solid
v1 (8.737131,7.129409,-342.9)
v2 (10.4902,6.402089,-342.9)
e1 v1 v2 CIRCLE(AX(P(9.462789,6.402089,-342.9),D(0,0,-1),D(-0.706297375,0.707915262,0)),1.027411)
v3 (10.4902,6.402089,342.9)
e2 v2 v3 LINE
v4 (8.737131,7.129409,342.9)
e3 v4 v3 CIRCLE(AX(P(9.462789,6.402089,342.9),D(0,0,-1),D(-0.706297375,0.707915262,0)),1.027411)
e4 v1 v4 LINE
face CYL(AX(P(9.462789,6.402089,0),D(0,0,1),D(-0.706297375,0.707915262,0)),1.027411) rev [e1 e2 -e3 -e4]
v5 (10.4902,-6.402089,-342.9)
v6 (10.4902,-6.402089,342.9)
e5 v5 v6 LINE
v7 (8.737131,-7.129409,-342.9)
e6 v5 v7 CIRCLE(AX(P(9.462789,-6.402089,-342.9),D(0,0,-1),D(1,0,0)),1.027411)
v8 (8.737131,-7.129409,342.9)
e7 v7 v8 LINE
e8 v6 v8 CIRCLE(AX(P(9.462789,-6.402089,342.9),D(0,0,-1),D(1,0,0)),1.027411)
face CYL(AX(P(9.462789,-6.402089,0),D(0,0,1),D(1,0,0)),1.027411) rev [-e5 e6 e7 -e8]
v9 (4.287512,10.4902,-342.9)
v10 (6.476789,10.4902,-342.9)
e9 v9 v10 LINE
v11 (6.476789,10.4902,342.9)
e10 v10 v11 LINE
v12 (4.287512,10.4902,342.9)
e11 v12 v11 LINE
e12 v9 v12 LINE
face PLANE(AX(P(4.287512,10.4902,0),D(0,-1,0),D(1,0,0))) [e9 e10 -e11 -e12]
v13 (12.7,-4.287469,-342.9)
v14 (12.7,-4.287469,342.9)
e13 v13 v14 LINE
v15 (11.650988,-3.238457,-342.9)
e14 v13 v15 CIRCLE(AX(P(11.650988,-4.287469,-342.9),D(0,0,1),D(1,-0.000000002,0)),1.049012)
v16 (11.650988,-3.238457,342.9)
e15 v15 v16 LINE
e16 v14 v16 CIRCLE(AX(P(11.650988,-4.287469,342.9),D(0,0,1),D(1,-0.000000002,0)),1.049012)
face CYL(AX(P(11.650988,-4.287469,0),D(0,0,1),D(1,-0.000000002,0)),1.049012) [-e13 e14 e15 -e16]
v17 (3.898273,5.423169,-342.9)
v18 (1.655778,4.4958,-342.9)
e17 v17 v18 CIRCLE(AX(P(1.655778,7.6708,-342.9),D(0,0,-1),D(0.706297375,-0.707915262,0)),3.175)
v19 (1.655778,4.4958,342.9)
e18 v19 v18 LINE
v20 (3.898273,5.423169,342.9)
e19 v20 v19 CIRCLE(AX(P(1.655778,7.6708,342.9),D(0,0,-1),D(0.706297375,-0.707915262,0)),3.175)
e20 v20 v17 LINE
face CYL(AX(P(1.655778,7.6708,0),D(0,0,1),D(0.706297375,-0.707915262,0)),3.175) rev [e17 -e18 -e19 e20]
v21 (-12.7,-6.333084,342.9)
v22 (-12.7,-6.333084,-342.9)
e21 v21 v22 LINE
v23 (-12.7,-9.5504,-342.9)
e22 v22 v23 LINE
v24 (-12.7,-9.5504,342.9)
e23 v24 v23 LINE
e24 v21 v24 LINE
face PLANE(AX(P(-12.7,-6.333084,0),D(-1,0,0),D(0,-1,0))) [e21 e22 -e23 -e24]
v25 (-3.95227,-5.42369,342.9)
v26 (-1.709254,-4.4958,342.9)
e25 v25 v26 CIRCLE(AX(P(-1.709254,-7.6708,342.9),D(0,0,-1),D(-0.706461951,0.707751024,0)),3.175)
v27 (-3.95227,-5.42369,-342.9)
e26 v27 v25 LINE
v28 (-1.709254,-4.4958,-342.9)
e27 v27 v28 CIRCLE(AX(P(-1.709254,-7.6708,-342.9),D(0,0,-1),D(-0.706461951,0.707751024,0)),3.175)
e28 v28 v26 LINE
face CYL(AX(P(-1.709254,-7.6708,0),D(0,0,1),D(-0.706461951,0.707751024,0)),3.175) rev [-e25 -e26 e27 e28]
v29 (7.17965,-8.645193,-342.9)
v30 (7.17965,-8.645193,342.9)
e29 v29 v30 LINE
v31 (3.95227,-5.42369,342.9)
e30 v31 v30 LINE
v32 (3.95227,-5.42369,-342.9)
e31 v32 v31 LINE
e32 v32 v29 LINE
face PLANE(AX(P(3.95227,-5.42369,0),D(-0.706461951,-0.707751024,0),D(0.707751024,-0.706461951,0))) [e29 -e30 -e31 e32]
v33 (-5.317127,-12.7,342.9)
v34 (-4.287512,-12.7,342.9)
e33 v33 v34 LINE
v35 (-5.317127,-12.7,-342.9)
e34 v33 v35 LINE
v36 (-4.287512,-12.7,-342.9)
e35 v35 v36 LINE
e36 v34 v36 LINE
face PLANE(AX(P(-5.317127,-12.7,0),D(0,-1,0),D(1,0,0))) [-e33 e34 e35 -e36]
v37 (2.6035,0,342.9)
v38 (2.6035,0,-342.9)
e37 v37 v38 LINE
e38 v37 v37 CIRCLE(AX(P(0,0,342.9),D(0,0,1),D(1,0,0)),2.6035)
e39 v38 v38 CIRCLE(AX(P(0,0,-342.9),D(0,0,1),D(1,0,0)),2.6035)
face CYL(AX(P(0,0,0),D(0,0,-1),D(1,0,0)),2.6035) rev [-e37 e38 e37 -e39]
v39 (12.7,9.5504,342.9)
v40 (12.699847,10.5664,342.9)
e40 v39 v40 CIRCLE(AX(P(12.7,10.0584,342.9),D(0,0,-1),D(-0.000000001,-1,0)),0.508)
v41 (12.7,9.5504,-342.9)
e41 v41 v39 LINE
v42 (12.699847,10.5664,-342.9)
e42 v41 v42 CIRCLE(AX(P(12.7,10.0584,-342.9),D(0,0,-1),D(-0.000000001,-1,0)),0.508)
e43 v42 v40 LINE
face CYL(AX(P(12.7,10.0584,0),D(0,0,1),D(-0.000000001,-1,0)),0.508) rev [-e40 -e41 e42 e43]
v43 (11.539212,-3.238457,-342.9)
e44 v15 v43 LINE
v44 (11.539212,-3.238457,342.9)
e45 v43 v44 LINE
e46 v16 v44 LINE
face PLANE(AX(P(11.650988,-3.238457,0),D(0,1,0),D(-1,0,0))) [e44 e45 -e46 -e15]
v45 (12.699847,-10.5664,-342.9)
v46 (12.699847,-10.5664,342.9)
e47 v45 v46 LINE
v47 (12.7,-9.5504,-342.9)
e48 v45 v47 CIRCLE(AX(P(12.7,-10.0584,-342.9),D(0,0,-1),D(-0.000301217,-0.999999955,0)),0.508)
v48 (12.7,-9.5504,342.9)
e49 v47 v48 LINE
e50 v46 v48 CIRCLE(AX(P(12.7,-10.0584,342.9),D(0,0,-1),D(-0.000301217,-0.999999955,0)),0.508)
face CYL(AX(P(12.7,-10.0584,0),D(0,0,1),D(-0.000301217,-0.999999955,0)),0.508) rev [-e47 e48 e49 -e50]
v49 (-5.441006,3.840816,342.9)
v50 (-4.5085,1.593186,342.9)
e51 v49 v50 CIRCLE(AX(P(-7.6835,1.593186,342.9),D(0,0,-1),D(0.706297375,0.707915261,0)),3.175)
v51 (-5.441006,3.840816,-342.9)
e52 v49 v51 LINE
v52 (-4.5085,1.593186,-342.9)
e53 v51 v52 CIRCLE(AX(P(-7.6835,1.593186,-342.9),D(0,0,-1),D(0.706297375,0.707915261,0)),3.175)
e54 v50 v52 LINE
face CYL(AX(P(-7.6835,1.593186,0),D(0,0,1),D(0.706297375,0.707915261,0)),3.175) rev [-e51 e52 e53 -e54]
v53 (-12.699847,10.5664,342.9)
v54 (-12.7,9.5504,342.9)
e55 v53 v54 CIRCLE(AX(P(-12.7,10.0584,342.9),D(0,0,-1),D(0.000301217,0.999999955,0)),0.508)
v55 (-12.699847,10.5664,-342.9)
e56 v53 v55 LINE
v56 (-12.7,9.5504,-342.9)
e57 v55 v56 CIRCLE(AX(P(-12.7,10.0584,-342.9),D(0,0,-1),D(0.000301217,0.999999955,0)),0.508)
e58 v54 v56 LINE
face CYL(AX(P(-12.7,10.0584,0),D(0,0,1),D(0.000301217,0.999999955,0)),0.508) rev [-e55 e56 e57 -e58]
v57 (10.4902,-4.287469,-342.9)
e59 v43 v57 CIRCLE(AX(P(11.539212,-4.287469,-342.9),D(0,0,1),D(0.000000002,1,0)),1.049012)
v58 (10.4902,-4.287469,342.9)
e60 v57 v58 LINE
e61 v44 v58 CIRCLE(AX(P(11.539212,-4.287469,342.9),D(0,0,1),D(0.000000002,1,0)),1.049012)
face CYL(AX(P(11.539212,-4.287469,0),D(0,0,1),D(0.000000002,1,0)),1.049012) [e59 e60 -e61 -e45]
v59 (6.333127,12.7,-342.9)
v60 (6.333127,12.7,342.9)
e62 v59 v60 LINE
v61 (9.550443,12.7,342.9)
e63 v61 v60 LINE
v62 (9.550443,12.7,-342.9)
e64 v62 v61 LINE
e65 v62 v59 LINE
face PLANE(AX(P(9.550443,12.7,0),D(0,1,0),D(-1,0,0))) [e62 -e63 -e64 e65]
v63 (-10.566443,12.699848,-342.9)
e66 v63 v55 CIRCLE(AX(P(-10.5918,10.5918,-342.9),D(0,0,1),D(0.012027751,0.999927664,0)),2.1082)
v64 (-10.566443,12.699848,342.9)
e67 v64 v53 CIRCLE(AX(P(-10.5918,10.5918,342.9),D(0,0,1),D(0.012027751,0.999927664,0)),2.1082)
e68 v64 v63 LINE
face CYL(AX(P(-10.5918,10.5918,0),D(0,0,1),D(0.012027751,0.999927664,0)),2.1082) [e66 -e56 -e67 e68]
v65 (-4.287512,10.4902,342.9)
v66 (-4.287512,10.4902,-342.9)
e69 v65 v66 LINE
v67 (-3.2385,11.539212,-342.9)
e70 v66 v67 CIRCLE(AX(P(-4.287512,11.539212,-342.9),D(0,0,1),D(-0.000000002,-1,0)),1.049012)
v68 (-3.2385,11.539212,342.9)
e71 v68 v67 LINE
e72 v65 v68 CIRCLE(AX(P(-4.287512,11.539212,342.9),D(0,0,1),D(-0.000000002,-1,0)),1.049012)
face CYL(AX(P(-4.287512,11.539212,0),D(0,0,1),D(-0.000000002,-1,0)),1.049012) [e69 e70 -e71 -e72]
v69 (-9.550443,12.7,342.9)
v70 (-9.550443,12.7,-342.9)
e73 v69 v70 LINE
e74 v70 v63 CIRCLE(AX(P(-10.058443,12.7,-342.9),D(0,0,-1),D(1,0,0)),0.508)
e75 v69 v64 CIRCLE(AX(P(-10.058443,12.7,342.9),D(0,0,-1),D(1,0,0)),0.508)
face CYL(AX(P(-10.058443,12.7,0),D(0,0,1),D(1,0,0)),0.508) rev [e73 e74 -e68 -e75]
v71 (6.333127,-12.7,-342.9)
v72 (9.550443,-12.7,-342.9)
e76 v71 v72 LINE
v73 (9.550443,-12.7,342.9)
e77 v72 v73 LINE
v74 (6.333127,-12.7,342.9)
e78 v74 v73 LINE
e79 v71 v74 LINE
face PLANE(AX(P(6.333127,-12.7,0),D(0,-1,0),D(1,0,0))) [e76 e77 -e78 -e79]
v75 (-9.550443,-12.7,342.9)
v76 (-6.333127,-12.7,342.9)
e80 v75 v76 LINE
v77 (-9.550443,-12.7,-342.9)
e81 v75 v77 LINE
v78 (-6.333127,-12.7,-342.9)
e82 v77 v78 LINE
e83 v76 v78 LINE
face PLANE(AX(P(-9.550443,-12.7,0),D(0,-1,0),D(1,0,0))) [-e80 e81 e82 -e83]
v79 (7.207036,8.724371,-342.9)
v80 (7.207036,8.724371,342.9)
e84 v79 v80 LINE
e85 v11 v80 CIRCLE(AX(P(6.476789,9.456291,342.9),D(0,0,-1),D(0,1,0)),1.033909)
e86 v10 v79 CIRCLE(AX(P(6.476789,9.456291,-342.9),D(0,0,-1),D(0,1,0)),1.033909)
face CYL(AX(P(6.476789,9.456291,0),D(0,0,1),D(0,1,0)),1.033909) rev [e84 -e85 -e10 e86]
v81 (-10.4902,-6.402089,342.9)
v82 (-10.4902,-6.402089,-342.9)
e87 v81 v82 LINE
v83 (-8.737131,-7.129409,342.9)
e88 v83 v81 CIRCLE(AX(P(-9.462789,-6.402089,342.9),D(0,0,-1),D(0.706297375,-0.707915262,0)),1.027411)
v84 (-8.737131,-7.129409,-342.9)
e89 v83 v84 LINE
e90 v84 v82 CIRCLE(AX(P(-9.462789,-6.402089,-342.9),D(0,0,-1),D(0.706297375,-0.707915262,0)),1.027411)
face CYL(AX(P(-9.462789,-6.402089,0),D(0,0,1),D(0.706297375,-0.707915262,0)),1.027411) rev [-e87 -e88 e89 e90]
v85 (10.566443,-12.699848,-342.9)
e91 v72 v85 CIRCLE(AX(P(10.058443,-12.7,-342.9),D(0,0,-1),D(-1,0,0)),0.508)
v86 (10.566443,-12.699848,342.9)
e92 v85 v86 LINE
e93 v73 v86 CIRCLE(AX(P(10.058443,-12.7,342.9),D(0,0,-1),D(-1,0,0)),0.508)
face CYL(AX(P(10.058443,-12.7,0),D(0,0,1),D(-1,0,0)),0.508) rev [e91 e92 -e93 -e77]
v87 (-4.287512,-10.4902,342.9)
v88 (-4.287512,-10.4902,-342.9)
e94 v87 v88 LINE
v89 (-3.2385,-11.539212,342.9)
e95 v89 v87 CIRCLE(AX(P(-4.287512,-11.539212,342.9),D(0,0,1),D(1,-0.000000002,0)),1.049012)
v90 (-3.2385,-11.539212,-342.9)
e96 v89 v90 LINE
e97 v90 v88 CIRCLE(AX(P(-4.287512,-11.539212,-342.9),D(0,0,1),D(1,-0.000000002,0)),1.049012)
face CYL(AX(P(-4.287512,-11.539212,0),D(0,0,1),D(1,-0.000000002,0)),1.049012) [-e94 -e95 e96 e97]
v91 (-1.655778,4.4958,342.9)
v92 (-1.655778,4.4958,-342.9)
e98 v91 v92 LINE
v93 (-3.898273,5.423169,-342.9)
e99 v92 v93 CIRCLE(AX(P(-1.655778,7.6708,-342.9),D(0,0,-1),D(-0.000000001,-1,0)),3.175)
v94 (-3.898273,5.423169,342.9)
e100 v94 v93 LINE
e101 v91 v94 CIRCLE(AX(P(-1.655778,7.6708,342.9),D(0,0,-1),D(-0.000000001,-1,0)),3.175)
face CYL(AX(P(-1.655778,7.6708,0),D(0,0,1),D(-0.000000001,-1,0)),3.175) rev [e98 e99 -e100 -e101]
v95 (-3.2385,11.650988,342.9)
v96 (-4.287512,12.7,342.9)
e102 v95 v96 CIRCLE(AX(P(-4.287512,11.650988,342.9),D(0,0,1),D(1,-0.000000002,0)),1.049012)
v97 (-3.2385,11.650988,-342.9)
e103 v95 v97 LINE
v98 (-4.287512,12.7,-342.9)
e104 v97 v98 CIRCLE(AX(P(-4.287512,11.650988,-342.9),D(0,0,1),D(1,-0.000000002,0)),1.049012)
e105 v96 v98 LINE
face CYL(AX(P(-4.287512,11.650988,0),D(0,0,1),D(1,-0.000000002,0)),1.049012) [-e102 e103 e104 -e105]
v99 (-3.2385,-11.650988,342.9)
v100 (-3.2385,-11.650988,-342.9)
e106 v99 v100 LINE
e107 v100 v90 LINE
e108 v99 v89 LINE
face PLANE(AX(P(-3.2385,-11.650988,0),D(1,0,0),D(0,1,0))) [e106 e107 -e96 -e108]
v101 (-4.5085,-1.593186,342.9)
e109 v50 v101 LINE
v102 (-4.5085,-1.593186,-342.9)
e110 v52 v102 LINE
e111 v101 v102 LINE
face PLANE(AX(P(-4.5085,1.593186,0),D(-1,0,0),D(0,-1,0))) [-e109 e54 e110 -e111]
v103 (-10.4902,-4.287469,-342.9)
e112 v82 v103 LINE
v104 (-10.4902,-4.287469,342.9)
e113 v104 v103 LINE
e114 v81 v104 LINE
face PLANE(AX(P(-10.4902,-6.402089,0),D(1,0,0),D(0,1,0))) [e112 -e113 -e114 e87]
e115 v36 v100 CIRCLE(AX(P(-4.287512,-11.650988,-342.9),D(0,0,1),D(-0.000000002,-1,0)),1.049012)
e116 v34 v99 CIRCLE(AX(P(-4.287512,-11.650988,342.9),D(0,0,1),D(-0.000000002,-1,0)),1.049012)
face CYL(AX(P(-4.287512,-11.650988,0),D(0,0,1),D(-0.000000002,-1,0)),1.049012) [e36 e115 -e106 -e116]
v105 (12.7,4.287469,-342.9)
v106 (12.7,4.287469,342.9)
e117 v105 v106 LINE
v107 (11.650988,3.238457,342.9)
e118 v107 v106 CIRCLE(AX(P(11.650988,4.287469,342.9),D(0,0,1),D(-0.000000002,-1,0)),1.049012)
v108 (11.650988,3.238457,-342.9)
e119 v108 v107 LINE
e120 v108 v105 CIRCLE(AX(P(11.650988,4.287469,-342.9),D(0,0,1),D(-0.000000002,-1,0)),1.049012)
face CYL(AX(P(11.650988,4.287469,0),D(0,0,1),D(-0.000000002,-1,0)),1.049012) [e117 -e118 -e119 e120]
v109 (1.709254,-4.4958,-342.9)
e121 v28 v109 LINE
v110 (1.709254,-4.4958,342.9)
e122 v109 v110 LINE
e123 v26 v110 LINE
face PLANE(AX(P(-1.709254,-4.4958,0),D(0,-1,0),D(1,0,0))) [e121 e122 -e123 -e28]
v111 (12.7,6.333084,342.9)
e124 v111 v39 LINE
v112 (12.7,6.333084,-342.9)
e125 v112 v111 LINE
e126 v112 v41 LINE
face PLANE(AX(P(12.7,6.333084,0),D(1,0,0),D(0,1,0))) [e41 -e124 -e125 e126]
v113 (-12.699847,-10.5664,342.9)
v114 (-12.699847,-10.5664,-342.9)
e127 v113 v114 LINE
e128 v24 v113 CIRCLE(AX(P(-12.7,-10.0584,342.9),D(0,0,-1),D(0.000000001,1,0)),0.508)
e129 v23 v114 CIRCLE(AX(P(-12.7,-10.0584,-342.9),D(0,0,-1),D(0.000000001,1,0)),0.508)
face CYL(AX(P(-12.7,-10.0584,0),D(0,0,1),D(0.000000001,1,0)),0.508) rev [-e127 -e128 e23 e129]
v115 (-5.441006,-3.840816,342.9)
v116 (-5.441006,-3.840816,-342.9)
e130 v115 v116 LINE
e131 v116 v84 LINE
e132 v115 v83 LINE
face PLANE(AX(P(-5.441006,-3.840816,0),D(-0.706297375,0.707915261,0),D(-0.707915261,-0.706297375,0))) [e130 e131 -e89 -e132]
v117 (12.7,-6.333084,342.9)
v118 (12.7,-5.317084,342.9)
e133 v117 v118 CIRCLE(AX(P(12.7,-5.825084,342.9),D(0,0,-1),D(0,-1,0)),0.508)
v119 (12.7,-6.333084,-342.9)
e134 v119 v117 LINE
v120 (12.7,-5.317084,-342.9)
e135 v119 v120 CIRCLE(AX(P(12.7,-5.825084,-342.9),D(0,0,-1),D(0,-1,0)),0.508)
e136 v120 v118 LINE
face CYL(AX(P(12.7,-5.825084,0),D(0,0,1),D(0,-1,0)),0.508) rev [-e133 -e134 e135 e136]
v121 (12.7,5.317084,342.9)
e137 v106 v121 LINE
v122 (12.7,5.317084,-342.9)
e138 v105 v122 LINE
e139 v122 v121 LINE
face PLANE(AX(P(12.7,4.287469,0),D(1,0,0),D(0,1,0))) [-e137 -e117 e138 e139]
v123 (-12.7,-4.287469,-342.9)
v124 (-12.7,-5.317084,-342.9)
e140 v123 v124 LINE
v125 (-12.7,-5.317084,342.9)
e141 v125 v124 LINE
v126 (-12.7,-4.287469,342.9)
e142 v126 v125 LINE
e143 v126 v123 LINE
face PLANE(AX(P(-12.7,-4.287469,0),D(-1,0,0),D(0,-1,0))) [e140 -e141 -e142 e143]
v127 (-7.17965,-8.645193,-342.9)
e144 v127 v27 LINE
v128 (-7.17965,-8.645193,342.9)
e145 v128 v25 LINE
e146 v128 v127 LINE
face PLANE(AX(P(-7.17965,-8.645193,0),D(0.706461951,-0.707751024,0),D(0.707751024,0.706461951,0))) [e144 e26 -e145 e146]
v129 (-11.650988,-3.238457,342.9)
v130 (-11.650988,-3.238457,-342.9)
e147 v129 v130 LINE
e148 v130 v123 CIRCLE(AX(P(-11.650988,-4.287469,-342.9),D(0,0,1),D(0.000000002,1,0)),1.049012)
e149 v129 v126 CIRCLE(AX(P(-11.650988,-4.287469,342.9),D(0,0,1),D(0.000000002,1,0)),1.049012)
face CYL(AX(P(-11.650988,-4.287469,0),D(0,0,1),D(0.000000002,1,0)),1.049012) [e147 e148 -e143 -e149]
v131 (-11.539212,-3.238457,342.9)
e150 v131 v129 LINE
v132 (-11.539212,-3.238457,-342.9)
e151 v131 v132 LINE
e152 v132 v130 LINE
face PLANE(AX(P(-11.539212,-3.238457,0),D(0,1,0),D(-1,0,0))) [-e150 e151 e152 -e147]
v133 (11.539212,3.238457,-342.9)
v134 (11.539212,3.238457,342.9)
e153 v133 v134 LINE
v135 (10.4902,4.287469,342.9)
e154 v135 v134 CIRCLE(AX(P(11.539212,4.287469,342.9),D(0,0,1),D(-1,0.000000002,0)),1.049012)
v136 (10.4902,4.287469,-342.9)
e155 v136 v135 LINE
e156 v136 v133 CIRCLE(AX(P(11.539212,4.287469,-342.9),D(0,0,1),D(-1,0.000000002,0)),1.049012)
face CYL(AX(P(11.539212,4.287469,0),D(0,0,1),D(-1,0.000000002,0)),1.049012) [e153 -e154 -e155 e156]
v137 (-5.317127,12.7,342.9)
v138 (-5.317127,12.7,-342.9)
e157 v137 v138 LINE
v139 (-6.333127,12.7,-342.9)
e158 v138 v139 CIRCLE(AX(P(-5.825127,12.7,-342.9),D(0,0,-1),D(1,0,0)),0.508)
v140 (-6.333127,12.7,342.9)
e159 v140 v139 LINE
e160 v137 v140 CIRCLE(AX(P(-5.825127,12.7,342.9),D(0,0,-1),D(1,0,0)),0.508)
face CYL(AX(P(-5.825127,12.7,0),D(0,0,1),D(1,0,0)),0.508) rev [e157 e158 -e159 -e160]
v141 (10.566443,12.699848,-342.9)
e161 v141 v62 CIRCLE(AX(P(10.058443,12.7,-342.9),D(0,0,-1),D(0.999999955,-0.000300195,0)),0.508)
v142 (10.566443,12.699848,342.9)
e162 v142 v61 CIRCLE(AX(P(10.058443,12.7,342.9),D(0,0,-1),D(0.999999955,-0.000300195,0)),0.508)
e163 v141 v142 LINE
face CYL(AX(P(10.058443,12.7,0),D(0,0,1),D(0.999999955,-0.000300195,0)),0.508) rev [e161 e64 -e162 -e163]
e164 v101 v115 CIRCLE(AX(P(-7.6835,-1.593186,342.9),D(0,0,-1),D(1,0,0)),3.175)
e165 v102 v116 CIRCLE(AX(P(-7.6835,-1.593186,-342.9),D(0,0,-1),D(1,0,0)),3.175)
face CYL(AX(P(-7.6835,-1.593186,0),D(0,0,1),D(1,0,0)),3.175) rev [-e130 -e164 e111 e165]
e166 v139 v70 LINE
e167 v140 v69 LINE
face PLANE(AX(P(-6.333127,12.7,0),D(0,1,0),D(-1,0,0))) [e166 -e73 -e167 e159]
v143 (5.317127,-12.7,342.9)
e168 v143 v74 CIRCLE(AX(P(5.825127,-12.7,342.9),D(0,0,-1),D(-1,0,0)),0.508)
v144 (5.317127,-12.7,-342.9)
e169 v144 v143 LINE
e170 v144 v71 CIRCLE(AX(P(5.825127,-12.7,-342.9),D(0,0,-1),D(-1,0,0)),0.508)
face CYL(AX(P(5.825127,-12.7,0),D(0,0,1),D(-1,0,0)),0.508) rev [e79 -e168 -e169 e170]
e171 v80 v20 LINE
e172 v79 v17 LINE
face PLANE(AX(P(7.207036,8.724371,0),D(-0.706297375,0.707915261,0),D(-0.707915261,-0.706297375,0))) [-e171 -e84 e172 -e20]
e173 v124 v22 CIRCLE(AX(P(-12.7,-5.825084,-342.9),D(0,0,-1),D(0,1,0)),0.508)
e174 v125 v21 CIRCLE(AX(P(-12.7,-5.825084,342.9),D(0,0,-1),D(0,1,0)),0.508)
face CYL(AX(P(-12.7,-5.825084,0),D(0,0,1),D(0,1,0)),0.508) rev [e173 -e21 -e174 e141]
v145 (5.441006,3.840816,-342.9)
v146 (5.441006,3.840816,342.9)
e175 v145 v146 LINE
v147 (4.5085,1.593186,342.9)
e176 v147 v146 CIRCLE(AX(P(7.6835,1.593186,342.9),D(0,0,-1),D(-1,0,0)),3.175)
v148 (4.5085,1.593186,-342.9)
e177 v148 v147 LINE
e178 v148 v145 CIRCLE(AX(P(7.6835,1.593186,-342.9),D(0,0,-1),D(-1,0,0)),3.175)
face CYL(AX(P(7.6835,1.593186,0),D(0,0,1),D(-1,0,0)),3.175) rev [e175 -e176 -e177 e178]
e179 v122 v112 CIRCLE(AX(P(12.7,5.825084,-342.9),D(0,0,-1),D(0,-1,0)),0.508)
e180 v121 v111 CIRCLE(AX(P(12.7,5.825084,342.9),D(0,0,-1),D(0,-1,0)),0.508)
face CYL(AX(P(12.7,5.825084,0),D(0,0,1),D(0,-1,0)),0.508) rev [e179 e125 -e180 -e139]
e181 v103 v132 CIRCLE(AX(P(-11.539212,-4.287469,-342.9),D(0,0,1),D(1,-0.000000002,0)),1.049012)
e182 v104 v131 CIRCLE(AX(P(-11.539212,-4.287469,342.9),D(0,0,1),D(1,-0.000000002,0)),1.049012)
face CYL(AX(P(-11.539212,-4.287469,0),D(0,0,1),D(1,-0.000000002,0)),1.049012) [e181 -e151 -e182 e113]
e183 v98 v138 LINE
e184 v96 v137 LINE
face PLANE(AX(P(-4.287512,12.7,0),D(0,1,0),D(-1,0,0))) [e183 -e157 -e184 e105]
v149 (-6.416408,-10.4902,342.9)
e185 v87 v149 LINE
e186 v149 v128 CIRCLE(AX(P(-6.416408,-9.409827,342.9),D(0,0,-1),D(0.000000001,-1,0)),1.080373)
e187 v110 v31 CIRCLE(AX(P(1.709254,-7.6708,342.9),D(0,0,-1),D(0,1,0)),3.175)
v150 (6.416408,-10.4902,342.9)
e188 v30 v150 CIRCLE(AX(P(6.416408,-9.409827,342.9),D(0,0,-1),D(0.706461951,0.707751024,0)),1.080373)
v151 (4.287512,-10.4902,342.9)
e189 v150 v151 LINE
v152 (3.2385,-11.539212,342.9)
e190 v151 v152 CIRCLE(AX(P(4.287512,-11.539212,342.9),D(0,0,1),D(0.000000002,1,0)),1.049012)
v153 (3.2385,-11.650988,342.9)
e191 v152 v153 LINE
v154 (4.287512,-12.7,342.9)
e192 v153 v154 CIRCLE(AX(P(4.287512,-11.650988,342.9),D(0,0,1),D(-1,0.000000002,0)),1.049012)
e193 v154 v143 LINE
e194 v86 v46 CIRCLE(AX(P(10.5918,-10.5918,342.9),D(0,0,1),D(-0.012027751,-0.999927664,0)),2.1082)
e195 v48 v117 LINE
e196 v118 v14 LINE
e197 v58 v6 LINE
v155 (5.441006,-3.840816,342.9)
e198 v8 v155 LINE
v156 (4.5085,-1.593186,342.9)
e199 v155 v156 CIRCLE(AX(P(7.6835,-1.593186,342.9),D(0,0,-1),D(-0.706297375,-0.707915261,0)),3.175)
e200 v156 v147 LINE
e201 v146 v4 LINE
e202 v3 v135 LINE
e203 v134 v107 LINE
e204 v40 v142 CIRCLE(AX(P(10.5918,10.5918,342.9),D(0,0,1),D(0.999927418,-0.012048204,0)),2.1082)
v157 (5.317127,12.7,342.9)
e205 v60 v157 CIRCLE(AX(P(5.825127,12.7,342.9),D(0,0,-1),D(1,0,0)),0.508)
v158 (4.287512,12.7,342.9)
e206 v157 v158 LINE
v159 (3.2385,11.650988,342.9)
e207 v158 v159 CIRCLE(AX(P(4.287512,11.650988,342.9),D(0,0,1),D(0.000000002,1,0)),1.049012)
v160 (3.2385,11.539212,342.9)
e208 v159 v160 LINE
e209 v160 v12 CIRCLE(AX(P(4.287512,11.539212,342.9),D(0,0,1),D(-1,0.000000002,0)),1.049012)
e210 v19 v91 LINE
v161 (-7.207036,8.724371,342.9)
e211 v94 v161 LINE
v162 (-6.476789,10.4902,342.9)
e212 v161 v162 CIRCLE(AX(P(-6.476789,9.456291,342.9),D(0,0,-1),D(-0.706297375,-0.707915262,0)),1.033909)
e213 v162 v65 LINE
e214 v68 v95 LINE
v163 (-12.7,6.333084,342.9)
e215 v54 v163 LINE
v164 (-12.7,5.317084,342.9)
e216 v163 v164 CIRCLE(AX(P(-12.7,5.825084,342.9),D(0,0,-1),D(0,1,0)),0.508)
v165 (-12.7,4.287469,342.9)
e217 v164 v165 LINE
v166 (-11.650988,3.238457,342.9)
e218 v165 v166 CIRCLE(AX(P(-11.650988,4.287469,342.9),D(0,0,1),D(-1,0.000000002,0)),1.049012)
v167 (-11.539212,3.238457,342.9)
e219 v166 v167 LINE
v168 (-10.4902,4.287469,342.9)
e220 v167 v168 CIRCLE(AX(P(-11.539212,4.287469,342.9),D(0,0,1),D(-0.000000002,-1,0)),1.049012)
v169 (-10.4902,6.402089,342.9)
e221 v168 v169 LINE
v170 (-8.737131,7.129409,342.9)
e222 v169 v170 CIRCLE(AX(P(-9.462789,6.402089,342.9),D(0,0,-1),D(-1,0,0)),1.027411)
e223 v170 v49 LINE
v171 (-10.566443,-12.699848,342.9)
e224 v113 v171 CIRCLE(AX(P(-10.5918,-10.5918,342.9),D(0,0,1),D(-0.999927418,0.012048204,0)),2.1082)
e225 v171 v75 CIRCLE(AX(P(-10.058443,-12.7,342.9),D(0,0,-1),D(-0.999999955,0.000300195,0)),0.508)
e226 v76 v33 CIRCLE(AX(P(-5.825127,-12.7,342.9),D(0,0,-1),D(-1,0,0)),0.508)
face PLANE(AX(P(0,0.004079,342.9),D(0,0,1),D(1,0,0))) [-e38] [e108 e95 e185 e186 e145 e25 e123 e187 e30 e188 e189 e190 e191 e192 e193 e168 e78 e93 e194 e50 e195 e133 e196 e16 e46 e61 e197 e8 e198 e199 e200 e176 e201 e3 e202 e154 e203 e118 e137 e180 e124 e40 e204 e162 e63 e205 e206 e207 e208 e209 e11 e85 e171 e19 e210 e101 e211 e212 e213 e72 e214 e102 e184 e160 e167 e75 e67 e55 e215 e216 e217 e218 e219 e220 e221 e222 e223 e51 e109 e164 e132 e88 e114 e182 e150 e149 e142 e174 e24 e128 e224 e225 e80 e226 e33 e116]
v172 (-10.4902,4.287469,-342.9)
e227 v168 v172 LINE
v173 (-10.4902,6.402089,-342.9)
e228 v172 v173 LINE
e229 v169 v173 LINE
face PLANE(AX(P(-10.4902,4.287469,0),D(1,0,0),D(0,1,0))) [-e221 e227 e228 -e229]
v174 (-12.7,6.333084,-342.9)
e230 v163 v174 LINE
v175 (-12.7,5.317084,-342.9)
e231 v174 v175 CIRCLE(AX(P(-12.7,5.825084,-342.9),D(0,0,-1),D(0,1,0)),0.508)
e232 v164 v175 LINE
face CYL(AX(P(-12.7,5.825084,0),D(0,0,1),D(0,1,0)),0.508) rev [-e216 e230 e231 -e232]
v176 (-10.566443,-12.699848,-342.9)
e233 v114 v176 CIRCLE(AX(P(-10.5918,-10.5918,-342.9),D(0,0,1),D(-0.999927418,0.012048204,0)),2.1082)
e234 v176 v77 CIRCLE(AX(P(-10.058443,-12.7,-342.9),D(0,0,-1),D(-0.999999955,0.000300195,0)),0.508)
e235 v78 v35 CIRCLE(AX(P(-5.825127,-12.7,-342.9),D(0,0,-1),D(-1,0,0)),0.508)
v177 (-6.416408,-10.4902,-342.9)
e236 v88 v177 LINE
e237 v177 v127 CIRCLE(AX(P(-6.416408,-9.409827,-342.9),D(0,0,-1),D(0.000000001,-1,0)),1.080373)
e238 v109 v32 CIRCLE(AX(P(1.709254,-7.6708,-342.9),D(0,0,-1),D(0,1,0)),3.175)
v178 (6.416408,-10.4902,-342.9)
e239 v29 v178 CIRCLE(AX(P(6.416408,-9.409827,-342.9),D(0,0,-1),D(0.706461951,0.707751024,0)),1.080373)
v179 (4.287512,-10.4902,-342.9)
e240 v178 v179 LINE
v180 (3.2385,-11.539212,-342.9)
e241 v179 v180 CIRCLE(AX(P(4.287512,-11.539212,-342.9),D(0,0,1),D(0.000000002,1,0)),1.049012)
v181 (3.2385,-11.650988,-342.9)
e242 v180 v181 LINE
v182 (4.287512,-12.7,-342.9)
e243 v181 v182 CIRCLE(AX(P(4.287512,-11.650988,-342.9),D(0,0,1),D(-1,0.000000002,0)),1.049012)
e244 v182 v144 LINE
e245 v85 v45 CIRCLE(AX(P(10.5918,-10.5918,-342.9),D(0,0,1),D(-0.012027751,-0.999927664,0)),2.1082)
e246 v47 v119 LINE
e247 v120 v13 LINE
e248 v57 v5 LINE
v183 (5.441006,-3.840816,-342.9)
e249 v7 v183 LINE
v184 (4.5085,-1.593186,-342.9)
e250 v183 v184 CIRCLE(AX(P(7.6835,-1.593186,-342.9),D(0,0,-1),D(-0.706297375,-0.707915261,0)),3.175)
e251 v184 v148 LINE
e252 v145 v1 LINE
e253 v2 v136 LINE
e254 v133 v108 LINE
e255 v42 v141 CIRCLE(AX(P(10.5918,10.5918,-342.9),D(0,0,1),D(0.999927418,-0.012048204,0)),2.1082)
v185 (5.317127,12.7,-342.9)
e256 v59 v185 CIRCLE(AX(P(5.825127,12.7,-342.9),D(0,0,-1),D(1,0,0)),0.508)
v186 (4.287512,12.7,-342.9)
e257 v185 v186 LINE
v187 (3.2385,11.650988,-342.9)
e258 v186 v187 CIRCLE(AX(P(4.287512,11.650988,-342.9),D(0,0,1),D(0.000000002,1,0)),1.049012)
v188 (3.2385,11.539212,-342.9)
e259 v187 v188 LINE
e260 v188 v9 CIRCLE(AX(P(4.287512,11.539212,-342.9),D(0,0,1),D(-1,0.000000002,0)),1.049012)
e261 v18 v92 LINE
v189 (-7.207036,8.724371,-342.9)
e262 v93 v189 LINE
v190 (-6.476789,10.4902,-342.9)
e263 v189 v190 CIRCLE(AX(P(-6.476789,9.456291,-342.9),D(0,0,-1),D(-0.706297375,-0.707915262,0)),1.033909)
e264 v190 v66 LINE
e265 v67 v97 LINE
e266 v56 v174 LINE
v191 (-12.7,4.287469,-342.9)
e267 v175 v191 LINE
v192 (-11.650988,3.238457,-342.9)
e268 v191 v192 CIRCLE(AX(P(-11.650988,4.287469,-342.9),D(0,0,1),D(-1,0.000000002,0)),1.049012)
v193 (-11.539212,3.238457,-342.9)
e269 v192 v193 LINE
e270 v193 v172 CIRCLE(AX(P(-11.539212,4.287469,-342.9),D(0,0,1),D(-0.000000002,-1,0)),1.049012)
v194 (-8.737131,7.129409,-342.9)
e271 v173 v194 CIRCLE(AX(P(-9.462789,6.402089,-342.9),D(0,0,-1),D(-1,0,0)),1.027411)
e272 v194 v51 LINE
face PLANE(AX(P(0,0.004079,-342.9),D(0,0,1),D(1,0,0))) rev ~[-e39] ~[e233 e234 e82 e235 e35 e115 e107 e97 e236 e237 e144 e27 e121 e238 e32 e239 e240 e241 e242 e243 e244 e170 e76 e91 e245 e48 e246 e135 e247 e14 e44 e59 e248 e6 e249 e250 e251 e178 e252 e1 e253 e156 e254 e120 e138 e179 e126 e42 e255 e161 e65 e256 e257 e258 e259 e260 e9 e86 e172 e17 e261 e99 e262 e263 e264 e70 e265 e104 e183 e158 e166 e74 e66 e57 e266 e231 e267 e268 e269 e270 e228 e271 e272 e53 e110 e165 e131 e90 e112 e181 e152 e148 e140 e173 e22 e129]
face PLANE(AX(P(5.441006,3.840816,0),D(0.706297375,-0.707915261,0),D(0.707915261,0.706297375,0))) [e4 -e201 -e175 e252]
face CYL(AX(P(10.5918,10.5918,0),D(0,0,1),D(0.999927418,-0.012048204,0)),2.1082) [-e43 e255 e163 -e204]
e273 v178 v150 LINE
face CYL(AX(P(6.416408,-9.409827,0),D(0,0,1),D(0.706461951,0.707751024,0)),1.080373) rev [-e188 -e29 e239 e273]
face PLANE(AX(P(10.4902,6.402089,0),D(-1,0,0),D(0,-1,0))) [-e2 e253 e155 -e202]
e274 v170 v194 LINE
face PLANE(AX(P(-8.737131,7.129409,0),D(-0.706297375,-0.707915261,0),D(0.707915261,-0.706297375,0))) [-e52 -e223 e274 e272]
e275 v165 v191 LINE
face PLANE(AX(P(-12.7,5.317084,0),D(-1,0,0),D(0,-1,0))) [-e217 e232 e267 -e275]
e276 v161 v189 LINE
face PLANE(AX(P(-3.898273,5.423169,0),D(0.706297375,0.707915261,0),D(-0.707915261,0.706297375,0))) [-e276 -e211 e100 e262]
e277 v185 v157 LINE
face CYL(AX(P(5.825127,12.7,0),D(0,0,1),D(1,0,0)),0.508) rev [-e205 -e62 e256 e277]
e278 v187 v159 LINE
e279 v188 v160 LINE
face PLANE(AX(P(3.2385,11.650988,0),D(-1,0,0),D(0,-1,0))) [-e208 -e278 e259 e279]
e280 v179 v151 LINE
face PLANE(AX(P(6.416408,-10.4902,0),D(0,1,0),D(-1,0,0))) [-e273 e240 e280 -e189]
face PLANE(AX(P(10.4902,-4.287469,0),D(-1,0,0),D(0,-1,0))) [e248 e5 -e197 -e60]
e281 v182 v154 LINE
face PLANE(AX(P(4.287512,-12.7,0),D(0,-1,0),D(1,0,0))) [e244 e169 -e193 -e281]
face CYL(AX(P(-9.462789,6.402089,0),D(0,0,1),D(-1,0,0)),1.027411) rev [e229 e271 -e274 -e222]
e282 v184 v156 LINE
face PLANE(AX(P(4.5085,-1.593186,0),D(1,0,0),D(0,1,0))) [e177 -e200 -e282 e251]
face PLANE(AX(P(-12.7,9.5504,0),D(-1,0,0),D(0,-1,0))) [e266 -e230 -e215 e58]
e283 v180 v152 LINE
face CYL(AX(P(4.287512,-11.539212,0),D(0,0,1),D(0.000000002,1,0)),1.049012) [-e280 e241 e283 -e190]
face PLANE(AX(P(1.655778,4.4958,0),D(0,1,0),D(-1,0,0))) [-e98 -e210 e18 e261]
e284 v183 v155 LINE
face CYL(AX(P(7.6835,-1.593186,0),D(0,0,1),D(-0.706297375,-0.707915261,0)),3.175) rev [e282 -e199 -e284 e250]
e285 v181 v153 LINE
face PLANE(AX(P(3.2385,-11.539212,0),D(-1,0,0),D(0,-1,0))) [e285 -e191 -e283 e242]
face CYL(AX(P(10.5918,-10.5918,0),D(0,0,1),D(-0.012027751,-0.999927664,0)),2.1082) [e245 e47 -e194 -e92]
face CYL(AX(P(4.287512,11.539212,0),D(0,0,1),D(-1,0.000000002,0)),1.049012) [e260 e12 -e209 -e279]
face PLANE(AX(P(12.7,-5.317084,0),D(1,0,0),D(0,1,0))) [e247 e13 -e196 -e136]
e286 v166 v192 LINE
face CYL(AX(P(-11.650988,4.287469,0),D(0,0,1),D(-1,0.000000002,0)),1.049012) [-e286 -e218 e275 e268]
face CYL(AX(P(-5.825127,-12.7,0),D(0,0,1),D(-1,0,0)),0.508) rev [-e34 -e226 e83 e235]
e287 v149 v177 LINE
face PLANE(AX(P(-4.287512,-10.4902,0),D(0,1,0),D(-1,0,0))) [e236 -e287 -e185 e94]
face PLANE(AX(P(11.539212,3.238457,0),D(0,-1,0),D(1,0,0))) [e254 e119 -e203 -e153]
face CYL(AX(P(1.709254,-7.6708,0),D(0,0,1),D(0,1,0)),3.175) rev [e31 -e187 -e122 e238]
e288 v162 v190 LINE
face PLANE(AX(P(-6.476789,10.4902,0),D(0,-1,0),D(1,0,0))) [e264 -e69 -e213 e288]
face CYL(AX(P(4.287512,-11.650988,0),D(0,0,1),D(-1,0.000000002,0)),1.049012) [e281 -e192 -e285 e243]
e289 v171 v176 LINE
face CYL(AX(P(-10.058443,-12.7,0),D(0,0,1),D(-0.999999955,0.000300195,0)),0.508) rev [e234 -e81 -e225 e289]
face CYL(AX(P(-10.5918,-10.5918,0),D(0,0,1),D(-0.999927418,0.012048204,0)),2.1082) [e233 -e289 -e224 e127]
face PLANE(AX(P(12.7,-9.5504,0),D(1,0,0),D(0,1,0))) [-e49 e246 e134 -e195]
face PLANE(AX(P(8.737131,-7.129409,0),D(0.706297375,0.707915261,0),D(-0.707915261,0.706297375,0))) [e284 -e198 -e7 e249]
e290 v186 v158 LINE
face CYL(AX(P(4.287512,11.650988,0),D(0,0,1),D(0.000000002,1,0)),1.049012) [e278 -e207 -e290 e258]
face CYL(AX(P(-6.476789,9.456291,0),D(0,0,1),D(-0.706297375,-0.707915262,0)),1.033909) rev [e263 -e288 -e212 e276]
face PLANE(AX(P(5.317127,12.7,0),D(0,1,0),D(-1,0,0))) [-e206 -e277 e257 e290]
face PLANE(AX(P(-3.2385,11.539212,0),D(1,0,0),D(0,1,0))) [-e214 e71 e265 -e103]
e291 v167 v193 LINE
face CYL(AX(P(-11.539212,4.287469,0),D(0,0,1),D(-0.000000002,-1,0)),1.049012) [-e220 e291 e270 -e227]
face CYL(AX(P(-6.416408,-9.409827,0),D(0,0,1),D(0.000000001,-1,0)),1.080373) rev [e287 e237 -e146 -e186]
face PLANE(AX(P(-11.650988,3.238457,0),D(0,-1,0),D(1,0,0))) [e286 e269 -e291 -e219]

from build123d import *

# Parameters (mm, degrees)
SKETCH1_R           = 2.6035
BOSS_EXTRUDE1_DEPTH = 342.9


with BuildPart() as part:
    # Sketch1 → Boss-Extrude1 (new, symmetric)
    with BuildSketch(Plane.XY):
        with BuildLine():
            Line((-7.179650497, -8.645192506), (-3.952270251, -5.423690499))
            ThreePointArc((-3.952270251, -5.423690499), (-2.922936451, -4.736929036), (-1.709253557, -4.4958))
            Line((-1.709253557, -4.4958), (1.709253557, -4.4958))
            ThreePointArc((1.709253557, -4.4958), (2.922936451, -4.736929036), (3.952270251, -5.423690499))
            Line((3.952270251, -5.423690499), (7.179650497, -8.645192506))
            ThreePointArc((7.179650497, -8.645192506), (7.41473083, -9.822813117), (6.416408329, -10.4902))
            Line((6.416408329, -10.4902), (4.287512407, -10.4902))
            ThreePointArc((4.287512407, -10.4902), (3.54574862, -10.79744862), (3.2385, -11.539212407))
            Line((3.2385, -11.539212407), (3.2385, -11.650987593))
            ThreePointArc((3.2385, -11.650987593), (3.54574862, -12.39275138), (4.287512407, -12.7))
            Line((4.287512407, -12.7), (5.317126718, -12.7))
            ThreePointArc((5.317126718, -12.7), (5.825126718, -12.192), (6.333126718, -12.7))
            Line((6.333126718, -12.7), (9.550443118, -12.7))
            ThreePointArc((9.550443118, -12.7), (10.058366869, -12.192000006), (10.566443095, -12.699847501))
            ThreePointArc((10.566443095, -12.699847501), (12.082537762, -12.08250727), (12.699846982, -10.566399977))
            ThreePointArc((12.699846982, -10.566399977), (12.192000006, -10.058323491), (12.7, -9.5504))
            Line((12.7, -9.5504), (12.7, -6.3330836))
            ThreePointArc((12.7, -6.3330836), (12.192, -5.8250836), (12.7, -5.3170836))
            Line((12.7, -5.3170836), (12.7, -4.287469289))
            ThreePointArc((12.7, -4.287469289), (12.39275138, -3.545705502), (11.650987593, -3.238456882))
            Line((11.650987593, -3.238456882), (11.539212407, -3.238456882))
            ThreePointArc((11.539212407, -3.238456882), (10.79744862, -3.545705502), (10.4902, -4.287469289))
            Line((10.4902, -4.287469289), (10.4902, -6.402089023))
            ThreePointArc((10.4902, -6.402089023), (9.856505071, -7.351067942), (8.737131347, -7.129408934))
            Line((8.737131347, -7.129408934), (5.441005833, -3.840816462))
            ThreePointArc((5.441005833, -3.840816462), (4.750877967, -2.809883091), (4.5085, -1.593185507))
            Line((4.5085, -1.593185507), (4.5085, 1.593185507))
            ThreePointArc((4.5085, 1.593185507), (4.750877967, 2.809883091), (5.441005833, 3.840816462))
            Line((5.441005833, 3.840816462), (8.737131347, 7.129408934))
            ThreePointArc((8.737131347, 7.129408934), (9.856505071, 7.351067942), (10.4902, 6.402089023))
            Line((10.4902, 6.402089023), (10.4902, 4.287469289))
            ThreePointArc((10.4902, 4.287469289), (10.79744862, 3.545705502), (11.539212407, 3.238456882))
            Line((11.539212407, 3.238456882), (11.650987593, 3.238456882))
            ThreePointArc((11.650987593, 3.238456882), (12.39275138, 3.545705502), (12.7, 4.287469289))
            Line((12.7, 4.287469289), (12.7, 5.3170836))
            ThreePointArc((12.7, 5.3170836), (12.192, 5.8250836), (12.7, 6.3330836))
            Line((12.7, 6.3330836), (12.7, 9.5504))
            ThreePointArc((12.7, 9.5504), (12.192000006, 10.058323491), (12.699846982, 10.566399977))
            ThreePointArc((12.699846982, 10.566399977), (12.082537762, 12.08250727), (10.566443095, 12.699847501))
            ThreePointArc((10.566443095, 12.699847501), (10.058366869, 12.192000006), (9.550443118, 12.7))
            Line((9.550443118, 12.7), (6.333126718, 12.7))
            ThreePointArc((6.333126718, 12.7), (5.825126718, 12.192), (5.317126718, 12.7))
            Line((5.317126718, 12.7), (4.287512407, 12.7))
            ThreePointArc((4.287512407, 12.7), (3.54574862, 12.39275138), (3.2385, 11.650987593))
            Line((3.2385, 11.650987593), (3.2385, 11.539212407))
            ThreePointArc((3.2385, 11.539212407), (3.54574862, 10.79744862), (4.287512407, 10.4902))
            Line((4.287512407, 10.4902), (6.476788598, 10.4902))
            ThreePointArc((6.476788598, 10.4902), (7.432222385, 9.85140422), (7.207036008, 8.724370562))
            Line((7.207036008, 8.724370562), (3.898272566, 5.423169045))
            ThreePointArc((3.898272566, 5.423169045), (2.869120213, 4.736787962), (1.655778399, 4.4958))
            Line((1.655778399, 4.4958), (-1.655778399, 4.4958))
            ThreePointArc((-1.655778399, 4.4958), (-2.869120213, 4.736787962), (-3.898272566, 5.423169045))
            Line((-3.898272566, 5.423169045), (-7.207036008, 8.724370562))
            ThreePointArc((-7.207036008, 8.724370562), (-7.432222385, 9.85140422), (-6.476788598, 10.4902))
            Line((-6.476788598, 10.4902), (-4.287512407, 10.4902))
            ThreePointArc((-4.287512407, 10.4902), (-3.54574862, 10.79744862), (-3.2385, 11.539212407))
            Line((-3.2385, 11.539212407), (-3.2385, 11.650987593))
            ThreePointArc((-3.2385, 11.650987593), (-3.54574862, 12.39275138), (-4.287512407, 12.7))
            Line((-4.287512407, 12.7), (-5.317126718, 12.7))
            ThreePointArc((-5.317126718, 12.7), (-5.825126718, 12.192), (-6.333126718, 12.7))
            Line((-6.333126718, 12.7), (-9.550443118, 12.7))
            ThreePointArc((-9.550443118, 12.7), (-10.058366869, 12.192000006), (-10.566443095, 12.699847501))
            ThreePointArc((-10.566443095, 12.699847501), (-12.082537762, 12.08250727), (-12.699846982, 10.566399977))
            ThreePointArc((-12.699846982, 10.566399977), (-12.192000006, 10.058323491), (-12.7, 9.5504))
            Line((-12.7, 9.5504), (-12.7, 6.3330836))
            ThreePointArc((-12.7, 6.3330836), (-12.192, 5.8250836), (-12.7, 5.3170836))
            Line((-12.7, 5.3170836), (-12.7, 4.287469289))
            ThreePointArc((-12.7, 4.287469289), (-12.39275138, 3.545705502), (-11.650987593, 3.238456882))
            Line((-11.650987593, 3.238456882), (-11.539212407, 3.238456882))
            ThreePointArc((-11.539212407, 3.238456882), (-10.79744862, 3.545705502), (-10.4902, 4.287469289))
            Line((-10.4902, 4.287469289), (-10.4902, 6.402089023))
            ThreePointArc((-10.4902, 6.402089023), (-9.856505071, 7.351067942), (-8.737131347, 7.129408934))
            Line((-8.737131347, 7.129408934), (-5.441005833, 3.840816462))
            ThreePointArc((-5.441005833, 3.840816462), (-4.750877967, 2.809883091), (-4.5085, 1.593185507))
            Line((-4.5085, 1.593185507), (-4.5085, -1.593185507))
            ThreePointArc((-4.5085, -1.593185507), (-4.750877967, -2.809883091), (-5.441005833, -3.840816462))
            Line((-5.441005833, -3.840816462), (-8.737131347, -7.129408934))
            ThreePointArc((-8.737131347, -7.129408934), (-9.856505071, -7.351067942), (-10.4902, -6.402089023))
            Line((-10.4902, -6.402089023), (-10.4902, -4.287469289))
            ThreePointArc((-10.4902, -4.287469289), (-10.79744862, -3.545705502), (-11.539212407, -3.238456882))
            Line((-11.539212407, -3.238456882), (-11.650987593, -3.238456882))
            ThreePointArc((-11.650987593, -3.238456882), (-12.39275138, -3.545705502), (-12.7, -4.287469289))
            Line((-12.7, -4.287469289), (-12.7, -5.3170836))
            ThreePointArc((-12.7, -5.3170836), (-12.192, -5.8250836), (-12.7, -6.3330836))
            Line((-12.7, -6.3330836), (-12.7, -9.5504))
            ThreePointArc((-12.7, -9.5504), (-12.192000006, -10.058323491), (-12.699846982, -10.566399977))
            ThreePointArc((-12.699846982, -10.566399977), (-12.082537762, -12.08250727), (-10.566443095, -12.699847501))
            ThreePointArc((-10.566443095, -12.699847501), (-10.058366869, -12.192000006), (-9.550443118, -12.7))
            Line((-9.550443118, -12.7), (-6.333126718, -12.7))
            ThreePointArc((-6.333126718, -12.7), (-5.825126718, -12.192), (-5.317126718, -12.7))
            Line((-5.317126718, -12.7), (-4.287512407, -12.7))
            ThreePointArc((-4.287512407, -12.7), (-3.54574862, -12.39275138), (-3.2385, -11.650987593))
            Line((-3.2385, -11.650987593), (-3.2385, -11.539212407))
            ThreePointArc((-3.2385, -11.539212407), (-3.54574862, -10.79744862), (-4.287512407, -10.4902))
            Line((-4.287512407, -10.4902), (-6.416408329, -10.4902))
            ThreePointArc((-6.416408329, -10.4902), (-7.41473083, -9.822813117), (-7.179650497, -8.645192506))
        make_face()
        Circle(SKETCH1_R, mode=Mode.SUBTRACT)
    extrude(amount=BOSS_EXTRUDE1_DEPTH, both=True)


solid = part.part
